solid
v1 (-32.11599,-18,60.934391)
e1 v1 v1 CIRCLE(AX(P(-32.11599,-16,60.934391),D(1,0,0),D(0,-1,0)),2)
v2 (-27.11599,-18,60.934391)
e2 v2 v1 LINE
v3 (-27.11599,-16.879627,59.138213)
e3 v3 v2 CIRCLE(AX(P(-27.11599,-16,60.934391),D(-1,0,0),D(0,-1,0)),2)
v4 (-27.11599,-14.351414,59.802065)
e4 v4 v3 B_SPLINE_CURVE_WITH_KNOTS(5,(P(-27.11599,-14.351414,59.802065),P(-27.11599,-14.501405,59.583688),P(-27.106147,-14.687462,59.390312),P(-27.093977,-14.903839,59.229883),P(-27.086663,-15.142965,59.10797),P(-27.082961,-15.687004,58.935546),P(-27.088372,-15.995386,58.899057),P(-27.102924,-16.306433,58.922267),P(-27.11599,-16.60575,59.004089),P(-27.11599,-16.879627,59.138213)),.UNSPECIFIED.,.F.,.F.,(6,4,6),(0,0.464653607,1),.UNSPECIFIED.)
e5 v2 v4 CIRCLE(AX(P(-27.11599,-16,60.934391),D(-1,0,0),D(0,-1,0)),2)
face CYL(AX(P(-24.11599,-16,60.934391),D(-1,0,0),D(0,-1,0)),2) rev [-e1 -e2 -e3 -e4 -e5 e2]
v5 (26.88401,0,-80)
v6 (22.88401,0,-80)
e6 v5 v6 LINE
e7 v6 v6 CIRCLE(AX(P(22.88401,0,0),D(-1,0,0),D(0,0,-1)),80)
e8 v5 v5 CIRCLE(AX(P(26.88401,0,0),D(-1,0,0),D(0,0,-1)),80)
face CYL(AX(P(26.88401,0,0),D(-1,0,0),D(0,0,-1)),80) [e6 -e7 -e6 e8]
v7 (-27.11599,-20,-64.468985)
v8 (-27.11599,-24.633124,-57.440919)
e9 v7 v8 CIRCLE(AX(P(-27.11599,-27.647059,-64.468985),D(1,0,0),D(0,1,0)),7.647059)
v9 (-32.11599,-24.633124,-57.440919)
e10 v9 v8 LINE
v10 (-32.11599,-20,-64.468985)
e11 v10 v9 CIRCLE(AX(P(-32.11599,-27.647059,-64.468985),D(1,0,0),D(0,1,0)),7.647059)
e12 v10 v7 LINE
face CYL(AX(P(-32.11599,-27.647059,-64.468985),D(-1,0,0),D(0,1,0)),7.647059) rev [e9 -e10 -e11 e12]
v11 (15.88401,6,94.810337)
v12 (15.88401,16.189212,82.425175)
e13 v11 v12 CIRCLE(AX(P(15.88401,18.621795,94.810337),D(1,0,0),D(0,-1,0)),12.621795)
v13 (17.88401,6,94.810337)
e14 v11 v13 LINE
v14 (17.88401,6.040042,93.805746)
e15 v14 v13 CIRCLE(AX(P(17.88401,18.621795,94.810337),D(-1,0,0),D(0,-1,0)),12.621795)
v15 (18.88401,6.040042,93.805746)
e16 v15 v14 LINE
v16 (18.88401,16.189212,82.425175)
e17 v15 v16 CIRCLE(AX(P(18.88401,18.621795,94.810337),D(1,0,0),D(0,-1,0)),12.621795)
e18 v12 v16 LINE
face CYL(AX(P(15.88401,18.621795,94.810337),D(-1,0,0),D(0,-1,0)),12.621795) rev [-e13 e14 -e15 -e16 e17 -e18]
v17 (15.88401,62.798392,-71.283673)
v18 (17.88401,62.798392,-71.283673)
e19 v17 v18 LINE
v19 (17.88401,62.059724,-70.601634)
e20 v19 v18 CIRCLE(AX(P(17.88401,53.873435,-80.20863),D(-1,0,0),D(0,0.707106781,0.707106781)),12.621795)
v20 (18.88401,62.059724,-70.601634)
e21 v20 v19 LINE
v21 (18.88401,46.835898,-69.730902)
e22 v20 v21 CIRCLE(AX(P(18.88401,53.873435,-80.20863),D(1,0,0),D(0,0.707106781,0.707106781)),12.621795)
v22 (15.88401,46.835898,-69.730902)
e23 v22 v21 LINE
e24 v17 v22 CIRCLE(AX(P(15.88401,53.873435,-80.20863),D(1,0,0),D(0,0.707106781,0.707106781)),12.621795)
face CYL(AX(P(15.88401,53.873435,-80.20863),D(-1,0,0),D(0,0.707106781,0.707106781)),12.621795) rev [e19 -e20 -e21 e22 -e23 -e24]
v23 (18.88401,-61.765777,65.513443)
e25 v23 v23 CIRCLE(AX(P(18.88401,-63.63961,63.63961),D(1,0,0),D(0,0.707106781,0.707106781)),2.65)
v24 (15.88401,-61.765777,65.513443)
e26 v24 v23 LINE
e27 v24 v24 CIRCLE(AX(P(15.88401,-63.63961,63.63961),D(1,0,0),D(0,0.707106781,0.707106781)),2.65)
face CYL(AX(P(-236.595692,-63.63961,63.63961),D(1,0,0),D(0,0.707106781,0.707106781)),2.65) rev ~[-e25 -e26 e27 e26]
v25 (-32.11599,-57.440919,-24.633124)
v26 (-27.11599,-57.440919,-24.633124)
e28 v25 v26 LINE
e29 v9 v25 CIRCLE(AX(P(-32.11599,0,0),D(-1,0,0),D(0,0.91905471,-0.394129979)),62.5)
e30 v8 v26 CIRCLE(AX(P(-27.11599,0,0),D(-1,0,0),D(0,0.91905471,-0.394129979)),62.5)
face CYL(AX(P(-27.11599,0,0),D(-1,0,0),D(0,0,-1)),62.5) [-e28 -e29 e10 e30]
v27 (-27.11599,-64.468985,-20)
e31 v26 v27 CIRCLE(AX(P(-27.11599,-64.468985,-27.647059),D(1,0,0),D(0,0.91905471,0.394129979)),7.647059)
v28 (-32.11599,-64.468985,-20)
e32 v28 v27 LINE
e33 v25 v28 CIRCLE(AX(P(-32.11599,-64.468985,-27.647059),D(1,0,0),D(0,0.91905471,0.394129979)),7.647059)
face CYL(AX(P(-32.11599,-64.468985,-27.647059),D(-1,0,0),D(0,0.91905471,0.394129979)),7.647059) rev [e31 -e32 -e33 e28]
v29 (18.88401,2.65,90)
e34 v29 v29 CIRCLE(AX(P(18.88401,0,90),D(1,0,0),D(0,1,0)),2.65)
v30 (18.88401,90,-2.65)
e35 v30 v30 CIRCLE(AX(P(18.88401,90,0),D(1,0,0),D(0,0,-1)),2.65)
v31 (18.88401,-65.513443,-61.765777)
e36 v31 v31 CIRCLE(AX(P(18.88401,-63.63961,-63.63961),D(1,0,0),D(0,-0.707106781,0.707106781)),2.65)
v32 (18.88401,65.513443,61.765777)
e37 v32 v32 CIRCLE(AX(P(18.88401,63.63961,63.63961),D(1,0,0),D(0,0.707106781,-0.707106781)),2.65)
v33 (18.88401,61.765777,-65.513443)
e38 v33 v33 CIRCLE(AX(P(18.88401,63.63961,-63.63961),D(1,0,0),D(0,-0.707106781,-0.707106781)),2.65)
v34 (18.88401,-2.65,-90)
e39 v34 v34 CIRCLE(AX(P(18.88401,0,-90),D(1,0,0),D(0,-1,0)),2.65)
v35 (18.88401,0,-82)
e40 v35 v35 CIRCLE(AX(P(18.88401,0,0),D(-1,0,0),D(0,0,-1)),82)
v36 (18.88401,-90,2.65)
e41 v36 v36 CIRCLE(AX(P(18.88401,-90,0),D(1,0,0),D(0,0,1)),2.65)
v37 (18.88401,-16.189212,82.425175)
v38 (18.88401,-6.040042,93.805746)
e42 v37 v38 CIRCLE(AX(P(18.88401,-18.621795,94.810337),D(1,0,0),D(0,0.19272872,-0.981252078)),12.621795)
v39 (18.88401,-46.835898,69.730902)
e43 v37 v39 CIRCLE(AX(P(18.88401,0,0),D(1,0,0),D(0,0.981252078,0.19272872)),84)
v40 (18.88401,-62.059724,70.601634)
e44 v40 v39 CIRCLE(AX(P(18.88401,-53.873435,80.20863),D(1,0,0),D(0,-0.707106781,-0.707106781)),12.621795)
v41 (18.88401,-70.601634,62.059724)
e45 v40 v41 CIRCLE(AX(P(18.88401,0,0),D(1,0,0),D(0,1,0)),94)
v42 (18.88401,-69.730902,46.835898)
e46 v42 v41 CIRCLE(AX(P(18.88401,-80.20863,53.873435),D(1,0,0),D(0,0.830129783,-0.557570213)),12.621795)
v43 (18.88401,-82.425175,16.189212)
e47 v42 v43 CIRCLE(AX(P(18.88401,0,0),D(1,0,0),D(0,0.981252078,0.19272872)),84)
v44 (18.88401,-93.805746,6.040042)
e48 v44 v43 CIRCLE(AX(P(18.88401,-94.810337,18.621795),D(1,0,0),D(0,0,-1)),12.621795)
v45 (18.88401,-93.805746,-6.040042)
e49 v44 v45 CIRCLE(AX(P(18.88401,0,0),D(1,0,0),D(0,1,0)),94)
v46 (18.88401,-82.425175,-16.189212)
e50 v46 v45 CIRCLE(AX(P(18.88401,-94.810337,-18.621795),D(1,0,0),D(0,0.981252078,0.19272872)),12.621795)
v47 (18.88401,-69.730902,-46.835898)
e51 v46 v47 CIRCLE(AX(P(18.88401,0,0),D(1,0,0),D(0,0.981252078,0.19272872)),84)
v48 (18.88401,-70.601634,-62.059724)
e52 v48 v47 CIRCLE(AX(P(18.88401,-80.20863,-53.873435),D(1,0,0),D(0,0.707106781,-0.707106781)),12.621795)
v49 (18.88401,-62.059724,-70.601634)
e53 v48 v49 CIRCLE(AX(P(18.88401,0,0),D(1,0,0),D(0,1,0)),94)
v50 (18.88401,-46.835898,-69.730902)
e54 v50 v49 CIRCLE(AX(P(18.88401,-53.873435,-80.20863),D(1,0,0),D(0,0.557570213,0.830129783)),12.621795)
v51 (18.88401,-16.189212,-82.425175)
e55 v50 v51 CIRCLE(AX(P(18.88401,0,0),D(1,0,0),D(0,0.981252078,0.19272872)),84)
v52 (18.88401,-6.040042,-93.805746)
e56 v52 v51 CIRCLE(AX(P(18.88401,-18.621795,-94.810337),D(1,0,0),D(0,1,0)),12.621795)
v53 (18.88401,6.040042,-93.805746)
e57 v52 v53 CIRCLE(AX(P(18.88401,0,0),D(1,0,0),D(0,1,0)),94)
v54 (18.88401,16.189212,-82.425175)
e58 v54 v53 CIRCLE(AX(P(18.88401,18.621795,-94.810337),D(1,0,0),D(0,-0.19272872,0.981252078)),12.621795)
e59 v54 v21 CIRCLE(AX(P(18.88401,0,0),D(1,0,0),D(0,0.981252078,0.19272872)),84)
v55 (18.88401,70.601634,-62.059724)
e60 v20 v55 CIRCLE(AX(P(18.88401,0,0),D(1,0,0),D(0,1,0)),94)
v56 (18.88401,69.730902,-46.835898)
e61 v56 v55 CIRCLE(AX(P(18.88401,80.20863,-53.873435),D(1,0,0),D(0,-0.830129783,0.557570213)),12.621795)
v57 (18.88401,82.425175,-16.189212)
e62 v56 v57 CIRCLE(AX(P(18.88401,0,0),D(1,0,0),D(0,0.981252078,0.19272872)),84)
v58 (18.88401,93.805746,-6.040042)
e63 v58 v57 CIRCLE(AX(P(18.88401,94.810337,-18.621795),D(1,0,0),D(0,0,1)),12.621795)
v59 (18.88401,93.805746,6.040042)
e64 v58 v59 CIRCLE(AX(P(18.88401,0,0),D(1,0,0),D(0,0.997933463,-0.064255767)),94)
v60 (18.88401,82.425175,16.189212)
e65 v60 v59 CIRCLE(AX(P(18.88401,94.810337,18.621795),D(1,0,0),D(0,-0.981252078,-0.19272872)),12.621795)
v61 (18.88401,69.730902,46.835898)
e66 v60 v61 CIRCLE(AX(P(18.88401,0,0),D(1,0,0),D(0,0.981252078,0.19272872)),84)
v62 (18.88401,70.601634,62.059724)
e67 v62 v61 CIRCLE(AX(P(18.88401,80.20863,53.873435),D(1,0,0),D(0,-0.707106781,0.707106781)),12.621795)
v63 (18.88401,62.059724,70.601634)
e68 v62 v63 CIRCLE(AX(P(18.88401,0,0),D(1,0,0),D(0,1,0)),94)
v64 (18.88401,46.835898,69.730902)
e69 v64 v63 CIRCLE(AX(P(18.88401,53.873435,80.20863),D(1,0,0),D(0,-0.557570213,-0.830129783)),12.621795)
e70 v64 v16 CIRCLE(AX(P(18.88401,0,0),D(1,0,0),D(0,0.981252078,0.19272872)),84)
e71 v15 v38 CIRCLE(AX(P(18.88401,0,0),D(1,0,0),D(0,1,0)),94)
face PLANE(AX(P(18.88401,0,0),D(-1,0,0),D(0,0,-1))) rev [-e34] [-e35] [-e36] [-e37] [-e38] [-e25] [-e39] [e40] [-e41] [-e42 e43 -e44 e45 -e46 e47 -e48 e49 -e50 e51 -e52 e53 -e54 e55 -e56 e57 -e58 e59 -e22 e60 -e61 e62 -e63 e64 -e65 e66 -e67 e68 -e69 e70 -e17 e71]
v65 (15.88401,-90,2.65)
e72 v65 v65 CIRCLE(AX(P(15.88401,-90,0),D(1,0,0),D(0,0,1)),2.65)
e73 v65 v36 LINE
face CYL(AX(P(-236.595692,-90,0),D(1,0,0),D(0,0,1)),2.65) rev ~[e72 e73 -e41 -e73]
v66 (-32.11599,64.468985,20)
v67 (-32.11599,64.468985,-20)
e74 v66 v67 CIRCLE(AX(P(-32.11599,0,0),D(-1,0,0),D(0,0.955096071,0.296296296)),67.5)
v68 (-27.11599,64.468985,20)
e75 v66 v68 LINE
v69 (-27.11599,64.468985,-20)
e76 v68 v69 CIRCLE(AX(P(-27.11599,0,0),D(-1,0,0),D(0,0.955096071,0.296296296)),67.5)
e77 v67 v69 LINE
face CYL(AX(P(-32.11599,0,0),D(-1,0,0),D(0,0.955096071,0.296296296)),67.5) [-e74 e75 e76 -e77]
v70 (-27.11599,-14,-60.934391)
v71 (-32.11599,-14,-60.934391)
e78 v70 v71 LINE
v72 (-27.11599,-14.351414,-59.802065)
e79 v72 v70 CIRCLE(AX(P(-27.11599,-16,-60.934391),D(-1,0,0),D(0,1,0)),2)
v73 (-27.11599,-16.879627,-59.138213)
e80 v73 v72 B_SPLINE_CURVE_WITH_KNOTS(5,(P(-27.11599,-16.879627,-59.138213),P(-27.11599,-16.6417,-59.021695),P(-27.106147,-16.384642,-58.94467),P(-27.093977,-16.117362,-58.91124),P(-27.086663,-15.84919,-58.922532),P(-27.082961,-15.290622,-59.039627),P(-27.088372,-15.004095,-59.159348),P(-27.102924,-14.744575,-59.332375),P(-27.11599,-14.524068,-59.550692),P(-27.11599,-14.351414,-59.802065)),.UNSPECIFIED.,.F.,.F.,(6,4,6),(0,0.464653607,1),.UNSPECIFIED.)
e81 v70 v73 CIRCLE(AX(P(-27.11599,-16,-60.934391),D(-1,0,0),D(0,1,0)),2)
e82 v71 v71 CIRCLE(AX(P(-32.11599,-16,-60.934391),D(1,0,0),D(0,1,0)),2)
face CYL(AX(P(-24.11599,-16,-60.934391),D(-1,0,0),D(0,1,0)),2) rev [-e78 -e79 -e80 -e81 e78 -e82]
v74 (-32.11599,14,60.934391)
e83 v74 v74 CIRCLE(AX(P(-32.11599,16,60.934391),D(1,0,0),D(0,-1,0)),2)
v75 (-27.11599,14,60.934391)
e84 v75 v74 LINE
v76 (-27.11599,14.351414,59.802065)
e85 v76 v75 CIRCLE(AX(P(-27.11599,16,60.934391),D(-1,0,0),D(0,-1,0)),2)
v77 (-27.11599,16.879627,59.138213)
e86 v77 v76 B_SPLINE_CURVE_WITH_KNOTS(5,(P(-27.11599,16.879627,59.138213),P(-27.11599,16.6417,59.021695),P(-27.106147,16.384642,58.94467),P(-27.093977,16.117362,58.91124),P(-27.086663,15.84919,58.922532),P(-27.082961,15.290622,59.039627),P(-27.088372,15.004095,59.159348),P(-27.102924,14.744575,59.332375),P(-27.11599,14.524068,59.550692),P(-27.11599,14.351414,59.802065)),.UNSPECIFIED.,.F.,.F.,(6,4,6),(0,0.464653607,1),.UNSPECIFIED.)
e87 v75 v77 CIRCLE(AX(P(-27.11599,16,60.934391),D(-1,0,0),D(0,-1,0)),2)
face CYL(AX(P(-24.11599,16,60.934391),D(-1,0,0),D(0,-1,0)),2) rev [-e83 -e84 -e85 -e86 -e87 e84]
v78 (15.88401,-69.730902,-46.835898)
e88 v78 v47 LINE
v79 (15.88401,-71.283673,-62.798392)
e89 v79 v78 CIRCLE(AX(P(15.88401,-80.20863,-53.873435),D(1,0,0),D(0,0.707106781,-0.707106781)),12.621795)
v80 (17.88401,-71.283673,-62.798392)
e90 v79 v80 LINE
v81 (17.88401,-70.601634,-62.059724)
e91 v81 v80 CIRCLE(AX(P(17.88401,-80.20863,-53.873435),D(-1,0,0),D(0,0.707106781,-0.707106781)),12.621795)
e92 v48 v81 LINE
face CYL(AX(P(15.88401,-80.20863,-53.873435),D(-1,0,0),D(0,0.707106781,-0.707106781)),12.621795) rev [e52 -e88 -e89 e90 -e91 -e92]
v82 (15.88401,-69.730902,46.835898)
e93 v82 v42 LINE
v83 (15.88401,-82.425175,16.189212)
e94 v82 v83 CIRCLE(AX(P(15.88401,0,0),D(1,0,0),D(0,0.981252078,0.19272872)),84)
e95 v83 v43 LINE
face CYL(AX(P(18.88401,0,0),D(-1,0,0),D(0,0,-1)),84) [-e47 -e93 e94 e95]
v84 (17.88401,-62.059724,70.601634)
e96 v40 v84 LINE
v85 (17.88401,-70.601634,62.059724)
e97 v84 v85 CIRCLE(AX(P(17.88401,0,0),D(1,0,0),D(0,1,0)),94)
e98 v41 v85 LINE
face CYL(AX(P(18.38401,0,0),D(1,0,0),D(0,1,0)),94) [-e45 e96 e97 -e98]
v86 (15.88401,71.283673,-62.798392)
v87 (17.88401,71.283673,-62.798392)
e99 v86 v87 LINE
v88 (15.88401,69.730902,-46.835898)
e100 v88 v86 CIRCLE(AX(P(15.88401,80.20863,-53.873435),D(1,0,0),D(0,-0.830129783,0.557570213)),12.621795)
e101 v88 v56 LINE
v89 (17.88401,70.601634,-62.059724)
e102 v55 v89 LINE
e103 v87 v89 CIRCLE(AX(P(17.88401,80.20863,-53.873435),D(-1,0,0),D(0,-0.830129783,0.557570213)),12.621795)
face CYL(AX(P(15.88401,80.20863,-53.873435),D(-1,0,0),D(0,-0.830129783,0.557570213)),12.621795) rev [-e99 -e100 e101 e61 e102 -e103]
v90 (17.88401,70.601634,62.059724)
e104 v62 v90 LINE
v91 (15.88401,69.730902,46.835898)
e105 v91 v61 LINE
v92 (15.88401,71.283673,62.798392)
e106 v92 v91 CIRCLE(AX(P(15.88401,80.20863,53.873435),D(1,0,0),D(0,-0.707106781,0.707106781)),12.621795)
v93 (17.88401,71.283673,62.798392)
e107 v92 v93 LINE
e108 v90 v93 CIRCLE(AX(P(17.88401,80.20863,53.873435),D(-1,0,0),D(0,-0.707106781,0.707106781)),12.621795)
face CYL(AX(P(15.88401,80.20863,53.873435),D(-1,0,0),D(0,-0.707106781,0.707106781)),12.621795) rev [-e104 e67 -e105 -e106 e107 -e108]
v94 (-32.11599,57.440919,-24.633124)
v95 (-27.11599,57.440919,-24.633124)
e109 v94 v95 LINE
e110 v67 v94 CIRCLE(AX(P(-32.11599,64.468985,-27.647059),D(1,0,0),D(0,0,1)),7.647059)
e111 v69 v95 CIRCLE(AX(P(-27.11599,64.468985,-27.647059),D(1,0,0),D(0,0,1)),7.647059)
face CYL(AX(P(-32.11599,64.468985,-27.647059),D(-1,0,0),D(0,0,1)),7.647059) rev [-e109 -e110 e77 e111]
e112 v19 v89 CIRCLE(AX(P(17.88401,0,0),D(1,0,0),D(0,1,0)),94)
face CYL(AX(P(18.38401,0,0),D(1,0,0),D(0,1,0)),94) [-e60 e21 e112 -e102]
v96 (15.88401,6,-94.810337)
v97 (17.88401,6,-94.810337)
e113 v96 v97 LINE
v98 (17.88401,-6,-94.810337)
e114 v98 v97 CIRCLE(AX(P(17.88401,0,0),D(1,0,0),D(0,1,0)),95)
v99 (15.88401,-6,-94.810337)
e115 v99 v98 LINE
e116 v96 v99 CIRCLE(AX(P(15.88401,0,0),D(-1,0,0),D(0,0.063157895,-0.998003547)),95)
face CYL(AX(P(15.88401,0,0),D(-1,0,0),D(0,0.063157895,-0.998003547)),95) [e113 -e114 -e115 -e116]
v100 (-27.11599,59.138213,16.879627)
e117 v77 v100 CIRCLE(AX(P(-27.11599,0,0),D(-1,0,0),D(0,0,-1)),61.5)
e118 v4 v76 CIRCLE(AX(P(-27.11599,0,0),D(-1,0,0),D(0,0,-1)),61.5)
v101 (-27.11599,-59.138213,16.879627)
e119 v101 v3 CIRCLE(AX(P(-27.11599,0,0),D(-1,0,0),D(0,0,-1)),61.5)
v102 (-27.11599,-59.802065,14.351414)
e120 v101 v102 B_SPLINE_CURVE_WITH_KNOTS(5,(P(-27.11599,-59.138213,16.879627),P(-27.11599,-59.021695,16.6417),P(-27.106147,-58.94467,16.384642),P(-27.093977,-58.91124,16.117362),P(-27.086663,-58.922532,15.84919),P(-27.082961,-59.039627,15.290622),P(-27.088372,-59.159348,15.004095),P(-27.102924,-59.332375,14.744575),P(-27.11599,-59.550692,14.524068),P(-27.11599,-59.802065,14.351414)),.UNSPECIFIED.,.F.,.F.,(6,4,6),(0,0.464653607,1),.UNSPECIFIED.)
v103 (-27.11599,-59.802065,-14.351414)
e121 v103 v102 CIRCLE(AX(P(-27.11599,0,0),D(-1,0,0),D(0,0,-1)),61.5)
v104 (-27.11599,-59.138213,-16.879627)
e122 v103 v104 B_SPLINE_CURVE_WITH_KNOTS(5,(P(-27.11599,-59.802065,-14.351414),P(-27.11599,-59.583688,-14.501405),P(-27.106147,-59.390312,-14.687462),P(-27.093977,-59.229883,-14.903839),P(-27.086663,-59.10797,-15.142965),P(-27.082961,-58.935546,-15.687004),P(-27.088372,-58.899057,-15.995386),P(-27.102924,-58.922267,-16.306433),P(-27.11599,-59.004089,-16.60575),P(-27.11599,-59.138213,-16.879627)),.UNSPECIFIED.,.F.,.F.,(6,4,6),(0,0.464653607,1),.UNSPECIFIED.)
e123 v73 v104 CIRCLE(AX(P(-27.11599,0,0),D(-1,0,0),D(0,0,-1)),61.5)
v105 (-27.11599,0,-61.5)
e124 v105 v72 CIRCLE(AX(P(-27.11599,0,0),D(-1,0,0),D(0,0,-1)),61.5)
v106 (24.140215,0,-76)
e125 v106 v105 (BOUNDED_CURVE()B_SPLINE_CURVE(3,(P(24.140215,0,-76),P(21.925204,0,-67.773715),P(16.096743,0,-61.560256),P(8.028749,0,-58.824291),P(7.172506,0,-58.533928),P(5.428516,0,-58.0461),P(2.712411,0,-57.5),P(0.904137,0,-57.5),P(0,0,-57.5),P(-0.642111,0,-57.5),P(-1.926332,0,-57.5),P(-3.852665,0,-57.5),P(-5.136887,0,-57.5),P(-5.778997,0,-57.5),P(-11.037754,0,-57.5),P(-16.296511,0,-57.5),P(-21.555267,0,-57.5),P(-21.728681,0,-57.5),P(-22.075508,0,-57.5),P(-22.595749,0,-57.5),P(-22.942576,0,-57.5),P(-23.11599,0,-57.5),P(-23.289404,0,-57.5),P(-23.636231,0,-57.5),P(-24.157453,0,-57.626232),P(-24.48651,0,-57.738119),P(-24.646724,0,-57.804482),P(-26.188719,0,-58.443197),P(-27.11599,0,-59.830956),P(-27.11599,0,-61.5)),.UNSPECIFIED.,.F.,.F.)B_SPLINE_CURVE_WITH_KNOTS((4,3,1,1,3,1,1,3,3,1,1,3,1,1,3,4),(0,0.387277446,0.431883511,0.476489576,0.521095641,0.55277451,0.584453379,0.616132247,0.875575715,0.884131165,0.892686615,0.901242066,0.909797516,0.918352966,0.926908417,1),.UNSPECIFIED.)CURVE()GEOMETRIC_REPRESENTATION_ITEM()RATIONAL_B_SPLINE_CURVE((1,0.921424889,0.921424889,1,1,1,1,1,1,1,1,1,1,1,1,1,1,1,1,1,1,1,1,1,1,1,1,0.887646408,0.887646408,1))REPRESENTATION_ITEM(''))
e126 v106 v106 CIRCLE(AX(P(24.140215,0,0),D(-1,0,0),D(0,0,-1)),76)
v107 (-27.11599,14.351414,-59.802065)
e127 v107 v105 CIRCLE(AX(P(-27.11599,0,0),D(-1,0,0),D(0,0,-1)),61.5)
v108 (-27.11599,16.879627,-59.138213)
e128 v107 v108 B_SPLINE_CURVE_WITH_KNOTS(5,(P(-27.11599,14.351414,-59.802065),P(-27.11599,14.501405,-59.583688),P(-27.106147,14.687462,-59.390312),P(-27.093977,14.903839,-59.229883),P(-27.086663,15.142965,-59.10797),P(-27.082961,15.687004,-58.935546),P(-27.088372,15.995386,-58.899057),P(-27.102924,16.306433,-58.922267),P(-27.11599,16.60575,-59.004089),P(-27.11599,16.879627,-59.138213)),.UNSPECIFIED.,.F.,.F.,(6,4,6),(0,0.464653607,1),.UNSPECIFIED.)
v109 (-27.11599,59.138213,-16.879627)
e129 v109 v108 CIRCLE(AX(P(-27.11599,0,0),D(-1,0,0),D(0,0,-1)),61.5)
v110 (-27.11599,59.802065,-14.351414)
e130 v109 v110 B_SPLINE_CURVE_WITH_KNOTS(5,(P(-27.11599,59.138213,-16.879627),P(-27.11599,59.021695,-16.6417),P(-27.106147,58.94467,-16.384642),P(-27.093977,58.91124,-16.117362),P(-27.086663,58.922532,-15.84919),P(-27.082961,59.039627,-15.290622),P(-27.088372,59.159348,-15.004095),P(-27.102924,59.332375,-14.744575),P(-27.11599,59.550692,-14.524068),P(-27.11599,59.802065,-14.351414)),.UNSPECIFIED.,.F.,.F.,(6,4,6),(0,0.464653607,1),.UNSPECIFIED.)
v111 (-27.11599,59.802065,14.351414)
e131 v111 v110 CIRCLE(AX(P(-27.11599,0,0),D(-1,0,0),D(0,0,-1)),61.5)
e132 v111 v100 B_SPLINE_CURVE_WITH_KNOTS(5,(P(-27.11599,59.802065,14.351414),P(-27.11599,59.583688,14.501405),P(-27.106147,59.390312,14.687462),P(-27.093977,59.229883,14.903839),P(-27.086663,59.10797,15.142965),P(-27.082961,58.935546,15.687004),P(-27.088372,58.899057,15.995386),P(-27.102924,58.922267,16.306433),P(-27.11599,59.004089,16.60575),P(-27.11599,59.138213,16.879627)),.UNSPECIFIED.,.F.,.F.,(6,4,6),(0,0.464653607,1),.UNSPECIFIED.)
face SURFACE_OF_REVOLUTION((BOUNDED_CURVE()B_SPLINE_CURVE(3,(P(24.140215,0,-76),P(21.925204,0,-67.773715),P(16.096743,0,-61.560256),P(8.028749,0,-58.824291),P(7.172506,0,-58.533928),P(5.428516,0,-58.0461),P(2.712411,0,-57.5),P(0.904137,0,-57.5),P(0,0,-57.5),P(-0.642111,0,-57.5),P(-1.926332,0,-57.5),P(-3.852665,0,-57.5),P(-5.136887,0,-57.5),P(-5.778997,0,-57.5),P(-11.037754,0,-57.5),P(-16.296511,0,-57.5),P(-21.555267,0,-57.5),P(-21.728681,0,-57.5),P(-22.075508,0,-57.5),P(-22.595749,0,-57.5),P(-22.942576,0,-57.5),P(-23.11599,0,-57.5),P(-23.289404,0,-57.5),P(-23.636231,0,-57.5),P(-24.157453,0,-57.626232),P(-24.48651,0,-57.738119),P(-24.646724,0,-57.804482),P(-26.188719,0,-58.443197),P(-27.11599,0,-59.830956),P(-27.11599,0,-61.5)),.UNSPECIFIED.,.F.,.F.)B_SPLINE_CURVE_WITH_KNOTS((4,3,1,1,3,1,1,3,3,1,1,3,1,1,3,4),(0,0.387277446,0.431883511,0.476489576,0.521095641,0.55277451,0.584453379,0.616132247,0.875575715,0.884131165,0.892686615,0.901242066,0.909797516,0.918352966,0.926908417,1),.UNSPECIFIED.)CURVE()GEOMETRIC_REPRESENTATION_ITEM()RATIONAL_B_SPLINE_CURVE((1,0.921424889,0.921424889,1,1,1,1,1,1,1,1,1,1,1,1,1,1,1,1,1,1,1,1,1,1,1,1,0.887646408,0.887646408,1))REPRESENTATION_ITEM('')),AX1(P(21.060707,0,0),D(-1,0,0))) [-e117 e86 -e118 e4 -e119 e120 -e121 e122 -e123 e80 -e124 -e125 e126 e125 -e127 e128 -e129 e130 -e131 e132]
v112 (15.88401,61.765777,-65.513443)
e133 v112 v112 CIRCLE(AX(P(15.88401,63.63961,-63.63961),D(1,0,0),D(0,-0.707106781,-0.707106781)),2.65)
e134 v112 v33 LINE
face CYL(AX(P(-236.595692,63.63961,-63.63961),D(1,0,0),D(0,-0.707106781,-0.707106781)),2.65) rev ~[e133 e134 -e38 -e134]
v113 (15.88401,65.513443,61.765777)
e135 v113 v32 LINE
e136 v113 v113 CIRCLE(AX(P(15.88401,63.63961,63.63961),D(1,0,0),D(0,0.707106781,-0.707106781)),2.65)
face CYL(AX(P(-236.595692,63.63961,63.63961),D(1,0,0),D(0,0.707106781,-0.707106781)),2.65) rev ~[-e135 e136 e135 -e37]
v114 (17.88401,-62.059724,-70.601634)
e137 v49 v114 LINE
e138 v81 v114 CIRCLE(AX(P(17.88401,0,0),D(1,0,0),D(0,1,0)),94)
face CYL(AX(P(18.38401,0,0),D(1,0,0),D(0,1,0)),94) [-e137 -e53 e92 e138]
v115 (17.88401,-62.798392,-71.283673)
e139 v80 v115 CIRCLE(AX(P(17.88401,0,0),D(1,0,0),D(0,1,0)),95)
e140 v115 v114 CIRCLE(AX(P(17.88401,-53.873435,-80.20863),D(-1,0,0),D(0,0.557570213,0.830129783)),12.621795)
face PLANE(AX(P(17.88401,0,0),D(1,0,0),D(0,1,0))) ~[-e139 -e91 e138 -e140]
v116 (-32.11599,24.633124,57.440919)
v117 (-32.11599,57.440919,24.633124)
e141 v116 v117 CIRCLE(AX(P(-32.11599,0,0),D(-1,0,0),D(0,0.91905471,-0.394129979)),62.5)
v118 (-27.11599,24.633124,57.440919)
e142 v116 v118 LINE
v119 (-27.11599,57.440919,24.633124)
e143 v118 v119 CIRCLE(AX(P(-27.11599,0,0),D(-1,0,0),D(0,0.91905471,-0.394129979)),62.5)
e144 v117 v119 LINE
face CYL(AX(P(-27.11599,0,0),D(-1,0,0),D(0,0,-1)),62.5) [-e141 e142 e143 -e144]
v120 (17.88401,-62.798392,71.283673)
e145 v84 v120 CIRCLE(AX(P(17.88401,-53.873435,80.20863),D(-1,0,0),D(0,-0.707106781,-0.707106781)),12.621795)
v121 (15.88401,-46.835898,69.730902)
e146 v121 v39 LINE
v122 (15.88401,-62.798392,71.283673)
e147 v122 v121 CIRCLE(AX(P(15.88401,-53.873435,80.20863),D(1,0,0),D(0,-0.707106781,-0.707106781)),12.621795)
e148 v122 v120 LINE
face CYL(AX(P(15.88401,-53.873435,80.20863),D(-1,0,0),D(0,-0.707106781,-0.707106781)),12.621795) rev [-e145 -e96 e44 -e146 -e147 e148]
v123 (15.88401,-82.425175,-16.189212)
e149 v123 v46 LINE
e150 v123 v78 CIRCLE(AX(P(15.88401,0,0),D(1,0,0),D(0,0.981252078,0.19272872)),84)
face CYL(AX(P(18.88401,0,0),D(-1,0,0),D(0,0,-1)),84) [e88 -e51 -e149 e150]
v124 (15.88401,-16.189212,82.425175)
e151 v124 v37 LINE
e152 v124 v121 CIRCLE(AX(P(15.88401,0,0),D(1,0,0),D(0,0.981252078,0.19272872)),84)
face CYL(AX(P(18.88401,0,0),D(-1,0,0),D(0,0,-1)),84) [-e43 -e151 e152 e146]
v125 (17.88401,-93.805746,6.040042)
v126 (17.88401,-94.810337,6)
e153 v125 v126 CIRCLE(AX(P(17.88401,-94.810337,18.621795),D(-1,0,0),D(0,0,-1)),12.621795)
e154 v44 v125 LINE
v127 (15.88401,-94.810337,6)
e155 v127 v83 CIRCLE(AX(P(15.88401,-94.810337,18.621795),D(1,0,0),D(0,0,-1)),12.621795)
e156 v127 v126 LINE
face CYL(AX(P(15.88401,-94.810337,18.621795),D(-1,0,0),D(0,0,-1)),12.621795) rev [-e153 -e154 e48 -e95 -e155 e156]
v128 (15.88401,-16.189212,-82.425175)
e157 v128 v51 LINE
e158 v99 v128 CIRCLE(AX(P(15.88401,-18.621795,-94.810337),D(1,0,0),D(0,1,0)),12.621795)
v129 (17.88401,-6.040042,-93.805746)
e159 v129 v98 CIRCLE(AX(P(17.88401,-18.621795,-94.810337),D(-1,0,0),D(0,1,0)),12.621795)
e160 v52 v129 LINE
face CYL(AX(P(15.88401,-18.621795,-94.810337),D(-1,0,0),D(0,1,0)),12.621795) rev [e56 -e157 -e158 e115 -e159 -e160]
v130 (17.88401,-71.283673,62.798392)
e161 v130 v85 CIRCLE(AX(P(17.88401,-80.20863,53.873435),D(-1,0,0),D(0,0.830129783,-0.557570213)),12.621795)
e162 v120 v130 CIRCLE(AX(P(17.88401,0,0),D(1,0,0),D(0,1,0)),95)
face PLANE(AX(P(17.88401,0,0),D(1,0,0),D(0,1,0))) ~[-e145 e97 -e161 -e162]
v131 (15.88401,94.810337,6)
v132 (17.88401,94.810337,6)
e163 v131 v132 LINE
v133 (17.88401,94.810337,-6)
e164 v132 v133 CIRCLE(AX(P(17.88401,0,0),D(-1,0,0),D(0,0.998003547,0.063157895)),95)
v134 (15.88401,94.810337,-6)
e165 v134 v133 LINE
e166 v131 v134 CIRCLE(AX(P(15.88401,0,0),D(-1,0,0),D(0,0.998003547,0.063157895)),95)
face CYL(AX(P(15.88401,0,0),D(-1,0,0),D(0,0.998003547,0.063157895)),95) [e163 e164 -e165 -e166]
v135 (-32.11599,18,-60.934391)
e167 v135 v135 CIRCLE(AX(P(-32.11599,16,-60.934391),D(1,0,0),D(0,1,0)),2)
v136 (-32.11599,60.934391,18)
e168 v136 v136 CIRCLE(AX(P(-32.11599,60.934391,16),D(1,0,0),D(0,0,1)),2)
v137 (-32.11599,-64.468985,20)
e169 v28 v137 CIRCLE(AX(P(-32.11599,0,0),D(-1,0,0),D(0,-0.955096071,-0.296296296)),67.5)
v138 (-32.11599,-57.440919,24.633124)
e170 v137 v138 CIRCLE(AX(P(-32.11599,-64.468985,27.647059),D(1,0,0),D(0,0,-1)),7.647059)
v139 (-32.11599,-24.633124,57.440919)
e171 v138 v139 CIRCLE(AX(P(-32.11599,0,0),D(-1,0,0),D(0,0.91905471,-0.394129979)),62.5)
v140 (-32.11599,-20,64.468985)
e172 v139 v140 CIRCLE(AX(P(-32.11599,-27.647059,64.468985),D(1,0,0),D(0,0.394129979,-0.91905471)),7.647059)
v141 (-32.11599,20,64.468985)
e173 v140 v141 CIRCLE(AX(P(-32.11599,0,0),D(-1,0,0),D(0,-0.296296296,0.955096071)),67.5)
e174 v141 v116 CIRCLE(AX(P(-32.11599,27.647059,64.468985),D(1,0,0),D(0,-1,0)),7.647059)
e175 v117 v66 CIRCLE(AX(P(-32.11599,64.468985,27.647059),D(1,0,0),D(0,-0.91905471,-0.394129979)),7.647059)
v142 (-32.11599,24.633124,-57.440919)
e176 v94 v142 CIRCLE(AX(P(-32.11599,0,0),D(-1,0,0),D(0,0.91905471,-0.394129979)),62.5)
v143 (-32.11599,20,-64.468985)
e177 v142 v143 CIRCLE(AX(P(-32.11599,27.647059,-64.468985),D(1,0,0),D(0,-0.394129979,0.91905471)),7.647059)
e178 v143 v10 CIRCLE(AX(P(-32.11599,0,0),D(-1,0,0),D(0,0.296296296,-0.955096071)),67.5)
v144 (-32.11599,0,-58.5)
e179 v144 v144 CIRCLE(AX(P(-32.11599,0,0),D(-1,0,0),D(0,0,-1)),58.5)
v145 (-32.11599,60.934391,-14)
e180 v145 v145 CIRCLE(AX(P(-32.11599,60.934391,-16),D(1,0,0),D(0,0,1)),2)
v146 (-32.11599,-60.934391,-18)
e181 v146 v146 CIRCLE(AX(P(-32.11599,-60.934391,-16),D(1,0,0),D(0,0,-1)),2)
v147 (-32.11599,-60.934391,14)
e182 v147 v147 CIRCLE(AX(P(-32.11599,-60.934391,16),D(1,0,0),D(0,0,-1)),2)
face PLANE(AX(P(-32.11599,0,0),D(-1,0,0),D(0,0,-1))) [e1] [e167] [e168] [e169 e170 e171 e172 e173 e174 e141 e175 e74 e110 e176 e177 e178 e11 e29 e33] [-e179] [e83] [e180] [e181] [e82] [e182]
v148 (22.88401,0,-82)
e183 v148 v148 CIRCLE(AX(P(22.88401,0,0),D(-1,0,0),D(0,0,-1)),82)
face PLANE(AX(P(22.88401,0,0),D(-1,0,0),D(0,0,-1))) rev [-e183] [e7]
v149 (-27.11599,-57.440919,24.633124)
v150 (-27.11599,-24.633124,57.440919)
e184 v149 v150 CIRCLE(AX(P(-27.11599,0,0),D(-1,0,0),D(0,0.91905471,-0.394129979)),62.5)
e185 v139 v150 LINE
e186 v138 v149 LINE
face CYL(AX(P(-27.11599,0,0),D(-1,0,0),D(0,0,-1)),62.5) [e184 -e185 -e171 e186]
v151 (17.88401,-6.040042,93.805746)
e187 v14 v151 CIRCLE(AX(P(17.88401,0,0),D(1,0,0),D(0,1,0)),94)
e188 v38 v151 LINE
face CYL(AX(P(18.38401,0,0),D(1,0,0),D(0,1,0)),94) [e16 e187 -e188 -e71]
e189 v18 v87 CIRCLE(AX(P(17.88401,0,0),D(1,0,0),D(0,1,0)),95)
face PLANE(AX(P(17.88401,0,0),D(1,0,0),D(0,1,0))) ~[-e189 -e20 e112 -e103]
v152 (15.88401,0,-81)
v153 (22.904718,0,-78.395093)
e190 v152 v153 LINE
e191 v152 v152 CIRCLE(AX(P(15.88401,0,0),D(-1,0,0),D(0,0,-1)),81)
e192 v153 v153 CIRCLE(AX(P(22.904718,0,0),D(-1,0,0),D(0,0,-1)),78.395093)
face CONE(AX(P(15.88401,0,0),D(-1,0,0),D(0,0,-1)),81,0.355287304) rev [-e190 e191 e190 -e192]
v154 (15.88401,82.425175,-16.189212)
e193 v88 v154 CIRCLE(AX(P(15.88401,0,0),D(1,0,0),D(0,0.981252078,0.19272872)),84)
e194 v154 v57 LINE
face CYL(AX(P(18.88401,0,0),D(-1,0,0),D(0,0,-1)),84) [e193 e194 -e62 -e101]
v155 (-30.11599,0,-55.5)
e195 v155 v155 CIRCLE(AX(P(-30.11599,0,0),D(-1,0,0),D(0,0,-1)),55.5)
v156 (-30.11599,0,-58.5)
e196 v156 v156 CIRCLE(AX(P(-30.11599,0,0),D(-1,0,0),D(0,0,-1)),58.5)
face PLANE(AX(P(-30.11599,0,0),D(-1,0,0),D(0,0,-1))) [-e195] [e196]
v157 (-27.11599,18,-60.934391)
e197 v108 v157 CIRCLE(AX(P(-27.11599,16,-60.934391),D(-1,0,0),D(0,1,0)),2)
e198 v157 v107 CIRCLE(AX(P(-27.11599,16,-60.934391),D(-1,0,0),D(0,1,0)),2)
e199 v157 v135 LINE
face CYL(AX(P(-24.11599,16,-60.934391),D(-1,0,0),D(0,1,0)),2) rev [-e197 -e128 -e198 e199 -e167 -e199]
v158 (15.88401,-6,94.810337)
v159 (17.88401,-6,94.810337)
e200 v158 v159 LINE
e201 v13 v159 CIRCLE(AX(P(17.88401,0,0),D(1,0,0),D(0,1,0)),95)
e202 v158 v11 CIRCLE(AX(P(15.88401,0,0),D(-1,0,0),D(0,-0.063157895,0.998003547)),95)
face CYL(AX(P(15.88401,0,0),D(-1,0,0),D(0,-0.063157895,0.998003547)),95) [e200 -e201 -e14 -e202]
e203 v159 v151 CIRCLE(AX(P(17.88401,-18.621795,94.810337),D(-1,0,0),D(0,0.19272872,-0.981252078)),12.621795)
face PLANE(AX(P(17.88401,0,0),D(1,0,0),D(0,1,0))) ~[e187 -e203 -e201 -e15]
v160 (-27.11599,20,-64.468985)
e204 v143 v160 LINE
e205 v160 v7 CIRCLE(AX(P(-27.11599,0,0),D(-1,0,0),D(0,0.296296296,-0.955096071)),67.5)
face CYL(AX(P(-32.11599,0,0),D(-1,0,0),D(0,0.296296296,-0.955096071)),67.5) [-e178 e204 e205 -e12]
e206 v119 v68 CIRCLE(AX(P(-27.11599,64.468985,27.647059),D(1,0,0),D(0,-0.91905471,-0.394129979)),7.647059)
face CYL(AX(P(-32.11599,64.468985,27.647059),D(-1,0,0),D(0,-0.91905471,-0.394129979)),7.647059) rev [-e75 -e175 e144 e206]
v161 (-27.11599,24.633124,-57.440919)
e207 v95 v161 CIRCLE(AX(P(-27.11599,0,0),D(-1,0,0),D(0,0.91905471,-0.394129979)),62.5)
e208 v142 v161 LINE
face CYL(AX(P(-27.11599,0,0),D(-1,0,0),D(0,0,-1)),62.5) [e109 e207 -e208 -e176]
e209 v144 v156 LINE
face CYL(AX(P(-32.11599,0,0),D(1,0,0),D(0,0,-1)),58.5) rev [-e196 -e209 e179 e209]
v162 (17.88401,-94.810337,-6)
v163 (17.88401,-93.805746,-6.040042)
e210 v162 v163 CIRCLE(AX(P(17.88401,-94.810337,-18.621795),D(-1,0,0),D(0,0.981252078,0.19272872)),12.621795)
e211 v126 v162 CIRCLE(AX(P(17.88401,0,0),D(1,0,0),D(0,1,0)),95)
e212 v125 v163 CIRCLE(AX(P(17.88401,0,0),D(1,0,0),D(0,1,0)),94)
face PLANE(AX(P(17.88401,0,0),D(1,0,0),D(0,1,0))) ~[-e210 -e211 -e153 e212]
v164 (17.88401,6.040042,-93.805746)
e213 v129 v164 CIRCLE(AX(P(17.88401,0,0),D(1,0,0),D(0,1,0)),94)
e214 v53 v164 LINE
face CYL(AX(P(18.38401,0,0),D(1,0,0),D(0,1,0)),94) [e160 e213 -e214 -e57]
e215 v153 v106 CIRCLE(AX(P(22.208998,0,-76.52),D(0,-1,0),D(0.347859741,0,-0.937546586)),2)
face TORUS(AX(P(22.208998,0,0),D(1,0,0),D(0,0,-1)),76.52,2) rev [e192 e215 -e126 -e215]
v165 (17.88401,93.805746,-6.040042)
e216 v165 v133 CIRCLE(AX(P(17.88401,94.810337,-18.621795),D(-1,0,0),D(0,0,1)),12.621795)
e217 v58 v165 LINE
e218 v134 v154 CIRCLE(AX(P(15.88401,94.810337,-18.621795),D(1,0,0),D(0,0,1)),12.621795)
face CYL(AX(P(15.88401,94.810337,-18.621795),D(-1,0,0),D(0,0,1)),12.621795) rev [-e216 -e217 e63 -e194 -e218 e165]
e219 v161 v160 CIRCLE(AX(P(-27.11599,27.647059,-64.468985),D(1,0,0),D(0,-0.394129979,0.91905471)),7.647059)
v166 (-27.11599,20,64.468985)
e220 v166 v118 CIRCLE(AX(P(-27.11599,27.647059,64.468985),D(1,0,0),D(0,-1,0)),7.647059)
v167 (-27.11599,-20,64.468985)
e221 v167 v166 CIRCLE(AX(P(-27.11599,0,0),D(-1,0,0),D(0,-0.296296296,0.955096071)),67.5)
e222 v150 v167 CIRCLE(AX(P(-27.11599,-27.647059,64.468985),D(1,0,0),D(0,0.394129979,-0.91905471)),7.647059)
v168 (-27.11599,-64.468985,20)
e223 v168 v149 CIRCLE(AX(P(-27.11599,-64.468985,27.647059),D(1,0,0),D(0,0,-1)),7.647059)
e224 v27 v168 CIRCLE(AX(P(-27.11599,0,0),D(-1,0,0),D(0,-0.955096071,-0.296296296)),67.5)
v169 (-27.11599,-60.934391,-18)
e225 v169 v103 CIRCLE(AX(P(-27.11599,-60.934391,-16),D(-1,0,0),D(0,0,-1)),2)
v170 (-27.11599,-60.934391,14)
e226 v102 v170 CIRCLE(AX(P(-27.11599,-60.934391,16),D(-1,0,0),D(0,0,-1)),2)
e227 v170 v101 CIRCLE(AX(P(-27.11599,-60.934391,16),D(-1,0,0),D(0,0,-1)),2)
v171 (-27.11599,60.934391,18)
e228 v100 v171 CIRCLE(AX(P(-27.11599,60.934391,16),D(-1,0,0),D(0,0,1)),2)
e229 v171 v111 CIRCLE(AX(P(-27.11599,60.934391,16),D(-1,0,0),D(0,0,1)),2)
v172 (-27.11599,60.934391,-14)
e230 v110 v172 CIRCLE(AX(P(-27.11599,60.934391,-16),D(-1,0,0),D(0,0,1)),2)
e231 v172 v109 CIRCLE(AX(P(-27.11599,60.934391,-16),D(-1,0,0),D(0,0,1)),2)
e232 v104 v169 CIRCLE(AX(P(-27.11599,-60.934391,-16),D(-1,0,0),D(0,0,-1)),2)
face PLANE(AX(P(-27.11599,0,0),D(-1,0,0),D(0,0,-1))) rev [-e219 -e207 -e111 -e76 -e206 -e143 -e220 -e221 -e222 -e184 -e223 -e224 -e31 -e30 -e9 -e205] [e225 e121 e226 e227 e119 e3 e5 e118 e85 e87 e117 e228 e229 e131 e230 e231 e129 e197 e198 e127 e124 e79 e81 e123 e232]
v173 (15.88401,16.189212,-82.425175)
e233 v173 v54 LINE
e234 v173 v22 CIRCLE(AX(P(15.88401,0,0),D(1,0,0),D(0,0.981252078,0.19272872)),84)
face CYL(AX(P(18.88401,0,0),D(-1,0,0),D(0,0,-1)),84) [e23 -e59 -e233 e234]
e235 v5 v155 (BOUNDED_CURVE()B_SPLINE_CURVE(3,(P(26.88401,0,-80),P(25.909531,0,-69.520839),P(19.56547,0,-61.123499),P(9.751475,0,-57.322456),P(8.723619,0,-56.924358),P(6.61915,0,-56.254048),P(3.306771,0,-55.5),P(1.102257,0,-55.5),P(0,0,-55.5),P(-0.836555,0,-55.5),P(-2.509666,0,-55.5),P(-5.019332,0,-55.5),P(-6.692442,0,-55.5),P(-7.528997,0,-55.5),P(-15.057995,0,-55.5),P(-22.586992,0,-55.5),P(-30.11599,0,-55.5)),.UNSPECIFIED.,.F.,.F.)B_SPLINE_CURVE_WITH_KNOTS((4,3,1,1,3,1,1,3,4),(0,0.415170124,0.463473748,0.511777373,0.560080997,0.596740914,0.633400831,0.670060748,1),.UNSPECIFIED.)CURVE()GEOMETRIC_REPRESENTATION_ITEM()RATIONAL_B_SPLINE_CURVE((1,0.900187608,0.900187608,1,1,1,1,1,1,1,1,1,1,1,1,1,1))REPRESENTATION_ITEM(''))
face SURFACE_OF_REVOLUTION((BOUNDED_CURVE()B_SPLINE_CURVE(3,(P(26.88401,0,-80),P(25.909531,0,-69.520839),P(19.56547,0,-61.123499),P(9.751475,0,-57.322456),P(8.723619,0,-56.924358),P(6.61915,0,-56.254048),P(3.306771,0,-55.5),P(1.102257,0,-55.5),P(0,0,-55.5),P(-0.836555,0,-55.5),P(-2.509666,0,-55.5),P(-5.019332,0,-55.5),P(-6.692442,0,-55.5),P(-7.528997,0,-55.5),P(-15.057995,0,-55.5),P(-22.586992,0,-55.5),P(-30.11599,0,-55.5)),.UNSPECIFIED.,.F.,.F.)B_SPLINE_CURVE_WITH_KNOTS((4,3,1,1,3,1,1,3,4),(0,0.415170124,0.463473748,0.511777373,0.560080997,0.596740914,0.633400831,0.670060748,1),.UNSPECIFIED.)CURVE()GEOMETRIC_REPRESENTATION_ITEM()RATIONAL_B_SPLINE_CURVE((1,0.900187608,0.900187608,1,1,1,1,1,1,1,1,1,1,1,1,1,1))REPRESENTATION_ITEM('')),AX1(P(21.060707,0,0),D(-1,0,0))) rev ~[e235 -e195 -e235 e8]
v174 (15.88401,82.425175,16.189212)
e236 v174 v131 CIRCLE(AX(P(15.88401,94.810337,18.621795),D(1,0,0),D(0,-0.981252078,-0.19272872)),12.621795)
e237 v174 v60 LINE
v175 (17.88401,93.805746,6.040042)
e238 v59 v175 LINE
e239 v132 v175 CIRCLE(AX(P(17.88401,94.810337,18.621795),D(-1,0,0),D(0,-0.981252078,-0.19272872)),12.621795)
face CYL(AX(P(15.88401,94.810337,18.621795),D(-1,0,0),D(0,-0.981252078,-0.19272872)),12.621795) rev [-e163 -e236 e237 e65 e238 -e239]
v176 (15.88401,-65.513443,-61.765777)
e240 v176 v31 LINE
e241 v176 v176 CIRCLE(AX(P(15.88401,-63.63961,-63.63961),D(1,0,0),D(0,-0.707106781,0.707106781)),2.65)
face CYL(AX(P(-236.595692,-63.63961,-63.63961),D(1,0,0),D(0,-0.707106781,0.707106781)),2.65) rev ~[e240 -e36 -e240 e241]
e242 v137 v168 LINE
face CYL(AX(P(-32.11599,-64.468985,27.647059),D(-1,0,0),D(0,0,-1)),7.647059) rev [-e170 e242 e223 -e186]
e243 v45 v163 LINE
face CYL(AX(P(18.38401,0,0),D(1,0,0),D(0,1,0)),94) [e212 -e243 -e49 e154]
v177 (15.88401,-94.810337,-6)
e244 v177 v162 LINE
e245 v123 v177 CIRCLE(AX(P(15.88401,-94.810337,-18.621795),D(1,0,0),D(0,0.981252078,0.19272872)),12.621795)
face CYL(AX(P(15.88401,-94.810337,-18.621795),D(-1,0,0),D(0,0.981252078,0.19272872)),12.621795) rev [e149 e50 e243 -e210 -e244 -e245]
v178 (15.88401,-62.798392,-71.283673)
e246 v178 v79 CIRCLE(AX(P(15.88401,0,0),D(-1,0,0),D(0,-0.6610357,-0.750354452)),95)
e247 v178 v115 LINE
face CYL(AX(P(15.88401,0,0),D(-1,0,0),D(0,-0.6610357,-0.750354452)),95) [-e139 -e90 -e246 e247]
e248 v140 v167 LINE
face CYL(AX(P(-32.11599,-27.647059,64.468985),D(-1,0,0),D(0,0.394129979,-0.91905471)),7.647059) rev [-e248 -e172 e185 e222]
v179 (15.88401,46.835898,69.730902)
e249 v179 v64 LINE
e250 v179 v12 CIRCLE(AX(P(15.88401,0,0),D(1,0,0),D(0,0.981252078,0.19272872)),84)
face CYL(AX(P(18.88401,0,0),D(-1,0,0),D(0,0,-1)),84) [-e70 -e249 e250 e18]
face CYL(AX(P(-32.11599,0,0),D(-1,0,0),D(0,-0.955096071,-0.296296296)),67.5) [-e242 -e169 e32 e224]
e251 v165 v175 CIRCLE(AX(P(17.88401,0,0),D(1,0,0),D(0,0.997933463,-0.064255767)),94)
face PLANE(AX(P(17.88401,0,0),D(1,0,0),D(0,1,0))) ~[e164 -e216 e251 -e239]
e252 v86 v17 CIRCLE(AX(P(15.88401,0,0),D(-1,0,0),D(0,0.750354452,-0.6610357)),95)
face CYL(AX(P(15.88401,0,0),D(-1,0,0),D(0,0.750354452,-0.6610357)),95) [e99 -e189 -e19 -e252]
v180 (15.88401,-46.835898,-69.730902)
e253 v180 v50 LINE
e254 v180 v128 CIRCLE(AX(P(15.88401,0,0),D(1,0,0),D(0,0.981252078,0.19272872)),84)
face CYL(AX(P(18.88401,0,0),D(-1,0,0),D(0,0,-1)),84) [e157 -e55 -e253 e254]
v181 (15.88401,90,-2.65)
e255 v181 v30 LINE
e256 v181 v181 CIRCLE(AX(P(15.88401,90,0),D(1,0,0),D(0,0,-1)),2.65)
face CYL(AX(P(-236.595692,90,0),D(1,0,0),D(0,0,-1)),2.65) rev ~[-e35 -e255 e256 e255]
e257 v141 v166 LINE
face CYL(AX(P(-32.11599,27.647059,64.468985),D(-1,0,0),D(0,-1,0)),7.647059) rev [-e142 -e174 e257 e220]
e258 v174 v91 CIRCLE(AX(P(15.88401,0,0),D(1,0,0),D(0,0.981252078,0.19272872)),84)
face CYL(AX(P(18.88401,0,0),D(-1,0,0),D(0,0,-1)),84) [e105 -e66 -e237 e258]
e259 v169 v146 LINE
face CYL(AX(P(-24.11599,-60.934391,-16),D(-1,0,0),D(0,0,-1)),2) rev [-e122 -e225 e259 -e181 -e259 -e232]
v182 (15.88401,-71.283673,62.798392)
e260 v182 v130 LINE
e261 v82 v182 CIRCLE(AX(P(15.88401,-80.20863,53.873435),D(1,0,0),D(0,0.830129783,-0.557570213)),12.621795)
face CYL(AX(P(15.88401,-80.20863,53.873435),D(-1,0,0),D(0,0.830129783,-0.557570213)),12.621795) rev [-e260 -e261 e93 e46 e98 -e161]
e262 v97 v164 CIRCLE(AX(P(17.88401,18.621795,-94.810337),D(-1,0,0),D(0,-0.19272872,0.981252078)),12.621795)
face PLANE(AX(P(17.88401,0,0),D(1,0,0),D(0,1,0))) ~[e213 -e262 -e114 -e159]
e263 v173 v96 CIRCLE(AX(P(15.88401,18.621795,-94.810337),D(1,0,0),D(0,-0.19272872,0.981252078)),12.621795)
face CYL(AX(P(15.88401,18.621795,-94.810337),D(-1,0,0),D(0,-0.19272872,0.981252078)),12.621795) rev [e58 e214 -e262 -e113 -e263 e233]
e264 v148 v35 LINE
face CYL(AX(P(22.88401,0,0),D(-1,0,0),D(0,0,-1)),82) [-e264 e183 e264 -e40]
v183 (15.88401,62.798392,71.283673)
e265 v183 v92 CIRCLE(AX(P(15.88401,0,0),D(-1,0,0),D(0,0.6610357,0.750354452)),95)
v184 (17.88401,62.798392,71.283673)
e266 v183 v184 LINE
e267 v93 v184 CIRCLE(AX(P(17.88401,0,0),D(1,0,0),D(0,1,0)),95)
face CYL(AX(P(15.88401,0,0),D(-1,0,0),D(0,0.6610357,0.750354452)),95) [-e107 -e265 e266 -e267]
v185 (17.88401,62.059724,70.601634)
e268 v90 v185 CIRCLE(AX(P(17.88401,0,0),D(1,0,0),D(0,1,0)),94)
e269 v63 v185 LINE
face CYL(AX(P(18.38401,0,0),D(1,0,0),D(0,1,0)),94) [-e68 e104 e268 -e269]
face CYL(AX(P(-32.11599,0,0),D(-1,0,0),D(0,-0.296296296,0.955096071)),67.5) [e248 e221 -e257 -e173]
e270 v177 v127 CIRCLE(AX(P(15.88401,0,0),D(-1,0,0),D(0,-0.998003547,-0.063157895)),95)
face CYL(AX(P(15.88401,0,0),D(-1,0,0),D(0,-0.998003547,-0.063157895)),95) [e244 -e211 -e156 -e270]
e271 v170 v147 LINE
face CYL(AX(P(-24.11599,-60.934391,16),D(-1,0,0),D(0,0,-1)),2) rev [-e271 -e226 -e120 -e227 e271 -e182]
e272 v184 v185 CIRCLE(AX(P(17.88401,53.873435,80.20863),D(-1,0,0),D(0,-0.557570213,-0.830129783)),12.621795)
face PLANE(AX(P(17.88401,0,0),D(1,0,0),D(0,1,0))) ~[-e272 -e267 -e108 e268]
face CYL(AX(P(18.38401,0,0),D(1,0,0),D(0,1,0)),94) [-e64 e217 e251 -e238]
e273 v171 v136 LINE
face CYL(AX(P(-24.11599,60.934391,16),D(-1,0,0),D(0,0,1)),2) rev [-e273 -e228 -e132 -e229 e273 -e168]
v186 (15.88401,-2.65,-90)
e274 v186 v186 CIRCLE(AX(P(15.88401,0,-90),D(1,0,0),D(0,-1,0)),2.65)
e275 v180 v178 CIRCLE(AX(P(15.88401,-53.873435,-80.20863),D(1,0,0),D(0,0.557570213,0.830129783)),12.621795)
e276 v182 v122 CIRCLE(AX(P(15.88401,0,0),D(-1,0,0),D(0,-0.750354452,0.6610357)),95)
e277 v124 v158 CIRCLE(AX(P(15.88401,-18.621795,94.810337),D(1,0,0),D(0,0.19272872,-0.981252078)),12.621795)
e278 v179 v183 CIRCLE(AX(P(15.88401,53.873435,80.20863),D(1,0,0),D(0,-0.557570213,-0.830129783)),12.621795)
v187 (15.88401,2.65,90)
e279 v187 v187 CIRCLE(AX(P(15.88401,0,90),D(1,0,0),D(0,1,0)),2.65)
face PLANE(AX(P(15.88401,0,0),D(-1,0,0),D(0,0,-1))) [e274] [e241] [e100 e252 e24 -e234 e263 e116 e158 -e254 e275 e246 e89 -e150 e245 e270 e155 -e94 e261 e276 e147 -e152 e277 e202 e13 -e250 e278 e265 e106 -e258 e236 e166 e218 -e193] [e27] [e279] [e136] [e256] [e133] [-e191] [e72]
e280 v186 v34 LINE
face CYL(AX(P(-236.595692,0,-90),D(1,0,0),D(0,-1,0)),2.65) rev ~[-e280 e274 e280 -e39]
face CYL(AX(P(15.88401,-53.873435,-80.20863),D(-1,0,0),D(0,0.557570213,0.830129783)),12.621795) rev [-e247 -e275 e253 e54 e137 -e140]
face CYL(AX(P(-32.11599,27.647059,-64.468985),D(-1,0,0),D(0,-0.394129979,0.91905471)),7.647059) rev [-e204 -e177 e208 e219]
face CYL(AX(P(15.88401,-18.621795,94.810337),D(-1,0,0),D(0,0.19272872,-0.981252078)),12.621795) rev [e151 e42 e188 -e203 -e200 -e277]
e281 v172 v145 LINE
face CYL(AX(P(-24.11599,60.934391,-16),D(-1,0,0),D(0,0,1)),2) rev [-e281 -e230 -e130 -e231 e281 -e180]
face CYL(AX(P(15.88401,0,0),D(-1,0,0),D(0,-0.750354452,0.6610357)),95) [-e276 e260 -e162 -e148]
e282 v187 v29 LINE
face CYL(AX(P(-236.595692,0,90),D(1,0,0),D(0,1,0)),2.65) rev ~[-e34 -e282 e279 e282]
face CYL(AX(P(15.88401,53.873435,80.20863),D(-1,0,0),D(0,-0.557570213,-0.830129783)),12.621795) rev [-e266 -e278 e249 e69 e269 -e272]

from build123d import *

# Parameters (mm, degrees)
BOSS_EXTRUDE1_DEPTH        = 3
M5_CLEARANCE_HOLE1_D       = 5.3
CIRPATTERN2_COUNT          = 8
SKETCH3_W                  = 1
SKETCH3_H                  = 1
BOSS_EXTRUDE2_DEPTH        = 5
M4_TAPPED_HOLE1_AT_2_COUNT = 2
M4_TAPPED_HOLE1_AT_2_PITCH = 32
CIRPATTERN3_COUNT          = 4


with BuildPart() as part:
    # Sketch1 → Revolve1 (revolve)
    with BuildSketch(Plane.XY, mode=Mode.PRIVATE) as revolve1_sk:
        with BuildLine():
            Line((26.884010118, 80), (22.884010118, 80))
            Line((22.884010118, 80), (22.884010118, 82))
            Line((22.884010118, 82), (18.884010118, 82))
            Line((18.884010118, 82), (18.884010118, 84))
            Line((18.884010118, 84), (15.884010118, 84))
            Line((15.884010118, 84), (15.884010118, 81))
            Line((15.884010118, 81), (22.904717658, 78.395093172))
            ThreePointArc((22.904717658, 78.395093172), (23.986444927, 77.436887697), (24.140215409, 76))
            add(Edge.make_bspline(
                [(24.140215409, 76), (21.925204116, 67.773715422), (16.096743453, 61.560255894), (8.028749254, 58.824291237), (7.172505876, 58.533927665), (5.428515706, 58.046099878), (2.71241102, 57.5), (0.904137007, 57.5), (0, 57.5), (-0.64211083, 57.5), (-1.92633249, 57.5), (-3.85266498, 57.5), (-5.136886641, 57.5), (-5.778997471, 57.5), (-11.037754083, 57.5), (-16.296510694, 57.5), (-21.555267306, 57.5), (-21.728680926, 57.5), (-22.075508165, 57.5), (-22.595749024, 57.5), (-22.942576263, 57.5), (-23.115989882, 57.5), (-23.289403502, 57.5), (-23.636230741, 57.5), (-24.157452607, 57.626231688), (-24.486510318, 57.738119351), (-24.646723612, 57.80448187), (-26.1887189, 58.443197231), (-27.115989882, 59.830956327), (-27.115989882, 61.5)],
                knots=[0, 0, 0, 0, 0.387277446, 0.387277446, 0.387277446, 0.431883511, 0.476489576, 0.521095641, 0.521095641, 0.521095641, 0.55277451, 0.584453379, 0.616132247, 0.616132247, 0.616132247, 0.875575715, 0.875575715, 0.875575715, 0.884131165, 0.892686615, 0.901242066, 0.901242066, 0.901242066, 0.909797516, 0.918352966, 0.926908417, 0.926908417, 0.926908417, 1, 1, 1, 1], degree=3, weights=[1, 0.921424889, 0.921424889, 1, 1, 1, 1, 1, 1, 1, 1, 1, 1, 1, 1, 1, 1, 1, 1, 1, 1, 1, 1, 1, 1, 1, 1, 0.887646408, 0.887646408, 1]))
            Line((-27.115989882, 61.5), (-27.115989882, 62.5))
            Line((-27.115989882, 62.5), (-32.115989882, 62.5))
            Line((-32.115989882, 62.5), (-32.115989882, 58.5))
            Line((-32.115989882, 58.5), (-30.115989882, 58.5))
            Line((-30.115989882, 58.5), (-30.115989882, 55.5))
            add(Edge.make_bspline(
                [(26.884010118, 80), (25.909531142, 69.520838946), (19.565470353, 61.123498988), (9.751475397, 57.322455887), (8.723618902, 56.924358389), (6.619149717, 56.254048066), (3.306771132, 55.5), (1.102257044, 55.5), (0, 55.5), (-0.836555275, 55.5), (-2.509665824, 55.5), (-5.019331647, 55.5), (-6.692442196, 55.5), (-7.528997471, 55.5), (-15.057994941, 55.5), (-22.586992412, 55.5), (-30.115989882, 55.5)],
                knots=[0, 0, 0, 0, 0.415170124, 0.415170124, 0.415170124, 0.463473748, 0.511777373, 0.560080997, 0.560080997, 0.560080997, 0.596740914, 0.633400831, 0.670060748, 0.670060748, 0.670060748, 1, 1, 1, 1], degree=3, weights=[1, 0.900187608, 0.900187608, 1, 1, 1, 1, 1, 1, 1, 1, 1, 1, 1, 1, 1, 1]))
        make_face()
    revolve(revolve1_sk.sketch.rotate(Axis((21.060706508, 0, 0), (-1, 0, 0)), 90), axis=Axis((21.060706508, 0, 0), (-1, 0, 0)))

    # Sketch2 → Boss-Extrude1 (add)
    with BuildSketch(Plane.ZY.offset(-15.884010118)):
        with BuildLine():
            ThreePointArc((6, 94.810336989), (0, 95), (-6, 94.810336989))
            ThreePointArc((-6, 94.810336989), (-8.874660383, 86.791417172), (-16.189212499, 82.425174544))
            ThreePointArc((-16.189212499, 82.425174544), (0, 84), (16.189212499, 82.425174544))
            ThreePointArc((16.189212499, 82.425174544), (8.874660383, 86.791417172), (6, 94.810336989))
        make_face()
    boss_extrude1 = extrude(amount=-BOSS_EXTRUDE1_DEPTH)

    # M5 Clearance Hole1 (through all)
    with Locations(Plane.ZY.offset(-15.884010118)):
        with Locations((0, 90)):
            m5_clearance_hole1 = Hole(M5_CLEARANCE_HOLE1_D / 2)

    # CirPattern2: Boss-Extrude1, M5 Clearance Hole1 ×8 about axis
    cirpattern2_axis = Axis((0, 0, 0), (1, 0, 0))
    add([boss_extrude1.rotate(cirpattern2_axis, i * 360 / CIRPATTERN2_COUNT) for i in range(1, CIRPATTERN2_COUNT)])
    add([m5_clearance_hole1.rotate(cirpattern2_axis, i * 360 / CIRPATTERN2_COUNT) for i in range(1, CIRPATTERN2_COUNT)], mode=Mode.SUBTRACT)

    # Sketch3 → Cut-Revolve1 (revolve, cut)
    with BuildSketch(Plane.XY):
        with Locations((18.384010118, 94.5)):
            Rectangle(SKETCH3_W, SKETCH3_H)
    revolve(axis=Axis((-27.669802315, 0, 0), (1, 0, 0)), mode=Mode.SUBTRACT)

    # Sketch8 → Boss-Extrude2 (add)
    with BuildSketch(Plane.ZY.offset(32.115989882)):
        with BuildLine():
            ThreePointArc((20, 64.468984791), (0, 67.5), (-20, 64.468984791))
            ThreePointArc((-20, 64.468984791), (-21.262497448, 60.260079388), (-24.63312369, 57.440919363))
            ThreePointArc((-24.63312369, 57.440919363), (0, 62.5), (24.63312369, 57.440919363))
            ThreePointArc((24.63312369, 57.440919363), (21.262497448, 60.260079388), (20, 64.468984791))
        make_face()
    boss_extrude2 = extrude(amount=-BOSS_EXTRUDE2_DEPTH)

    # Sketch9 → M4 Tapped Hole1 (revolve, cut)
    with BuildSketch(Plane(origin=(-32.115989882, 60.934390946, -16), x_dir=(0, 0, 1), z_dir=(0, 1, 0))):
        Polygon((0, 0), (0, 11.241420021), (1.65, 10.25), (1.65, 8), (2, 8), (2, 0), align=None)
    m4_tapped_hole1 = revolve(axis=Axis((-38.465989882, 60.934390946, -16), (1, 0, 0)), mode=Mode.SUBTRACT)

    # M4 Tapped Hole1 at 2: M4 Tapped Hole1 ×2
    with Locations(*[(0, 0, i * M4_TAPPED_HOLE1_AT_2_PITCH) for i in range(1, M4_TAPPED_HOLE1_AT_2_COUNT)]):
        add(m4_tapped_hole1, mode=Mode.SUBTRACT)

    # CirPattern3: Boss-Extrude2, M4 Tapped Hole1 ×4 about axis
    cirpattern3_axis = Axis((0, 0, 0), (1, 0, 0))
    add([boss_extrude2.rotate(cirpattern3_axis, i * 360 / CIRPATTERN3_COUNT) for i in range(1, CIRPATTERN3_COUNT)])
    add([m4_tapped_hole1.rotate(cirpattern3_axis, i * 360 / CIRPATTERN3_COUNT) for i in range(1, CIRPATTERN3_COUNT)], mode=Mode.SUBTRACT)

    # CirPattern3 copy 1 sketch → CirPattern3 copy 1 (revolve, cut)
    with BuildSketch(Plane(origin=(-32.115989882, -16, 60.934390946), x_dir=(0, -1, 0), z_dir=(0, 0, 1))):
        Polygon((0, 0), (0, 11.241420021), (1.65, 10.25), (1.65, 8), (2, 8), (2, 0), align=None)
    revolve(axis=Axis((-38.465989882, -16, 60.934390946), (1, 0, 0)), mode=Mode.SUBTRACT)

    # CirPattern3 copy 2 sketch → CirPattern3 copy 2 (revolve, cut)
    with BuildSketch(Plane(origin=(-32.115989882, -60.934390946, -16), x_dir=(0, 0, -1), z_dir=(0, -1, 0))):
        Polygon((0, 0), (0, 11.241420021), (1.65, 10.25), (1.65, 8), (2, 8), (2, 0), align=None)
    revolve(axis=Axis((-38.465989882, -60.934390946, -16), (1, 0, 0)), mode=Mode.SUBTRACT)

    # CirPattern3 copy 3 sketch → CirPattern3 copy 3 (revolve, cut)
    with BuildSketch(Plane(origin=(-32.115989882, 16, -60.934390946), x_dir=(0, 1, 0), z_dir=(0, 0, -1))):
        Polygon((0, 0), (0, 11.241420021), (1.65, 10.25), (1.65, 8), (2, 8), (2, 0), align=None)
    revolve(axis=Axis((-38.465989882, 16, -60.934390946), (1, 0, 0)), mode=Mode.SUBTRACT)


solid = part.part
